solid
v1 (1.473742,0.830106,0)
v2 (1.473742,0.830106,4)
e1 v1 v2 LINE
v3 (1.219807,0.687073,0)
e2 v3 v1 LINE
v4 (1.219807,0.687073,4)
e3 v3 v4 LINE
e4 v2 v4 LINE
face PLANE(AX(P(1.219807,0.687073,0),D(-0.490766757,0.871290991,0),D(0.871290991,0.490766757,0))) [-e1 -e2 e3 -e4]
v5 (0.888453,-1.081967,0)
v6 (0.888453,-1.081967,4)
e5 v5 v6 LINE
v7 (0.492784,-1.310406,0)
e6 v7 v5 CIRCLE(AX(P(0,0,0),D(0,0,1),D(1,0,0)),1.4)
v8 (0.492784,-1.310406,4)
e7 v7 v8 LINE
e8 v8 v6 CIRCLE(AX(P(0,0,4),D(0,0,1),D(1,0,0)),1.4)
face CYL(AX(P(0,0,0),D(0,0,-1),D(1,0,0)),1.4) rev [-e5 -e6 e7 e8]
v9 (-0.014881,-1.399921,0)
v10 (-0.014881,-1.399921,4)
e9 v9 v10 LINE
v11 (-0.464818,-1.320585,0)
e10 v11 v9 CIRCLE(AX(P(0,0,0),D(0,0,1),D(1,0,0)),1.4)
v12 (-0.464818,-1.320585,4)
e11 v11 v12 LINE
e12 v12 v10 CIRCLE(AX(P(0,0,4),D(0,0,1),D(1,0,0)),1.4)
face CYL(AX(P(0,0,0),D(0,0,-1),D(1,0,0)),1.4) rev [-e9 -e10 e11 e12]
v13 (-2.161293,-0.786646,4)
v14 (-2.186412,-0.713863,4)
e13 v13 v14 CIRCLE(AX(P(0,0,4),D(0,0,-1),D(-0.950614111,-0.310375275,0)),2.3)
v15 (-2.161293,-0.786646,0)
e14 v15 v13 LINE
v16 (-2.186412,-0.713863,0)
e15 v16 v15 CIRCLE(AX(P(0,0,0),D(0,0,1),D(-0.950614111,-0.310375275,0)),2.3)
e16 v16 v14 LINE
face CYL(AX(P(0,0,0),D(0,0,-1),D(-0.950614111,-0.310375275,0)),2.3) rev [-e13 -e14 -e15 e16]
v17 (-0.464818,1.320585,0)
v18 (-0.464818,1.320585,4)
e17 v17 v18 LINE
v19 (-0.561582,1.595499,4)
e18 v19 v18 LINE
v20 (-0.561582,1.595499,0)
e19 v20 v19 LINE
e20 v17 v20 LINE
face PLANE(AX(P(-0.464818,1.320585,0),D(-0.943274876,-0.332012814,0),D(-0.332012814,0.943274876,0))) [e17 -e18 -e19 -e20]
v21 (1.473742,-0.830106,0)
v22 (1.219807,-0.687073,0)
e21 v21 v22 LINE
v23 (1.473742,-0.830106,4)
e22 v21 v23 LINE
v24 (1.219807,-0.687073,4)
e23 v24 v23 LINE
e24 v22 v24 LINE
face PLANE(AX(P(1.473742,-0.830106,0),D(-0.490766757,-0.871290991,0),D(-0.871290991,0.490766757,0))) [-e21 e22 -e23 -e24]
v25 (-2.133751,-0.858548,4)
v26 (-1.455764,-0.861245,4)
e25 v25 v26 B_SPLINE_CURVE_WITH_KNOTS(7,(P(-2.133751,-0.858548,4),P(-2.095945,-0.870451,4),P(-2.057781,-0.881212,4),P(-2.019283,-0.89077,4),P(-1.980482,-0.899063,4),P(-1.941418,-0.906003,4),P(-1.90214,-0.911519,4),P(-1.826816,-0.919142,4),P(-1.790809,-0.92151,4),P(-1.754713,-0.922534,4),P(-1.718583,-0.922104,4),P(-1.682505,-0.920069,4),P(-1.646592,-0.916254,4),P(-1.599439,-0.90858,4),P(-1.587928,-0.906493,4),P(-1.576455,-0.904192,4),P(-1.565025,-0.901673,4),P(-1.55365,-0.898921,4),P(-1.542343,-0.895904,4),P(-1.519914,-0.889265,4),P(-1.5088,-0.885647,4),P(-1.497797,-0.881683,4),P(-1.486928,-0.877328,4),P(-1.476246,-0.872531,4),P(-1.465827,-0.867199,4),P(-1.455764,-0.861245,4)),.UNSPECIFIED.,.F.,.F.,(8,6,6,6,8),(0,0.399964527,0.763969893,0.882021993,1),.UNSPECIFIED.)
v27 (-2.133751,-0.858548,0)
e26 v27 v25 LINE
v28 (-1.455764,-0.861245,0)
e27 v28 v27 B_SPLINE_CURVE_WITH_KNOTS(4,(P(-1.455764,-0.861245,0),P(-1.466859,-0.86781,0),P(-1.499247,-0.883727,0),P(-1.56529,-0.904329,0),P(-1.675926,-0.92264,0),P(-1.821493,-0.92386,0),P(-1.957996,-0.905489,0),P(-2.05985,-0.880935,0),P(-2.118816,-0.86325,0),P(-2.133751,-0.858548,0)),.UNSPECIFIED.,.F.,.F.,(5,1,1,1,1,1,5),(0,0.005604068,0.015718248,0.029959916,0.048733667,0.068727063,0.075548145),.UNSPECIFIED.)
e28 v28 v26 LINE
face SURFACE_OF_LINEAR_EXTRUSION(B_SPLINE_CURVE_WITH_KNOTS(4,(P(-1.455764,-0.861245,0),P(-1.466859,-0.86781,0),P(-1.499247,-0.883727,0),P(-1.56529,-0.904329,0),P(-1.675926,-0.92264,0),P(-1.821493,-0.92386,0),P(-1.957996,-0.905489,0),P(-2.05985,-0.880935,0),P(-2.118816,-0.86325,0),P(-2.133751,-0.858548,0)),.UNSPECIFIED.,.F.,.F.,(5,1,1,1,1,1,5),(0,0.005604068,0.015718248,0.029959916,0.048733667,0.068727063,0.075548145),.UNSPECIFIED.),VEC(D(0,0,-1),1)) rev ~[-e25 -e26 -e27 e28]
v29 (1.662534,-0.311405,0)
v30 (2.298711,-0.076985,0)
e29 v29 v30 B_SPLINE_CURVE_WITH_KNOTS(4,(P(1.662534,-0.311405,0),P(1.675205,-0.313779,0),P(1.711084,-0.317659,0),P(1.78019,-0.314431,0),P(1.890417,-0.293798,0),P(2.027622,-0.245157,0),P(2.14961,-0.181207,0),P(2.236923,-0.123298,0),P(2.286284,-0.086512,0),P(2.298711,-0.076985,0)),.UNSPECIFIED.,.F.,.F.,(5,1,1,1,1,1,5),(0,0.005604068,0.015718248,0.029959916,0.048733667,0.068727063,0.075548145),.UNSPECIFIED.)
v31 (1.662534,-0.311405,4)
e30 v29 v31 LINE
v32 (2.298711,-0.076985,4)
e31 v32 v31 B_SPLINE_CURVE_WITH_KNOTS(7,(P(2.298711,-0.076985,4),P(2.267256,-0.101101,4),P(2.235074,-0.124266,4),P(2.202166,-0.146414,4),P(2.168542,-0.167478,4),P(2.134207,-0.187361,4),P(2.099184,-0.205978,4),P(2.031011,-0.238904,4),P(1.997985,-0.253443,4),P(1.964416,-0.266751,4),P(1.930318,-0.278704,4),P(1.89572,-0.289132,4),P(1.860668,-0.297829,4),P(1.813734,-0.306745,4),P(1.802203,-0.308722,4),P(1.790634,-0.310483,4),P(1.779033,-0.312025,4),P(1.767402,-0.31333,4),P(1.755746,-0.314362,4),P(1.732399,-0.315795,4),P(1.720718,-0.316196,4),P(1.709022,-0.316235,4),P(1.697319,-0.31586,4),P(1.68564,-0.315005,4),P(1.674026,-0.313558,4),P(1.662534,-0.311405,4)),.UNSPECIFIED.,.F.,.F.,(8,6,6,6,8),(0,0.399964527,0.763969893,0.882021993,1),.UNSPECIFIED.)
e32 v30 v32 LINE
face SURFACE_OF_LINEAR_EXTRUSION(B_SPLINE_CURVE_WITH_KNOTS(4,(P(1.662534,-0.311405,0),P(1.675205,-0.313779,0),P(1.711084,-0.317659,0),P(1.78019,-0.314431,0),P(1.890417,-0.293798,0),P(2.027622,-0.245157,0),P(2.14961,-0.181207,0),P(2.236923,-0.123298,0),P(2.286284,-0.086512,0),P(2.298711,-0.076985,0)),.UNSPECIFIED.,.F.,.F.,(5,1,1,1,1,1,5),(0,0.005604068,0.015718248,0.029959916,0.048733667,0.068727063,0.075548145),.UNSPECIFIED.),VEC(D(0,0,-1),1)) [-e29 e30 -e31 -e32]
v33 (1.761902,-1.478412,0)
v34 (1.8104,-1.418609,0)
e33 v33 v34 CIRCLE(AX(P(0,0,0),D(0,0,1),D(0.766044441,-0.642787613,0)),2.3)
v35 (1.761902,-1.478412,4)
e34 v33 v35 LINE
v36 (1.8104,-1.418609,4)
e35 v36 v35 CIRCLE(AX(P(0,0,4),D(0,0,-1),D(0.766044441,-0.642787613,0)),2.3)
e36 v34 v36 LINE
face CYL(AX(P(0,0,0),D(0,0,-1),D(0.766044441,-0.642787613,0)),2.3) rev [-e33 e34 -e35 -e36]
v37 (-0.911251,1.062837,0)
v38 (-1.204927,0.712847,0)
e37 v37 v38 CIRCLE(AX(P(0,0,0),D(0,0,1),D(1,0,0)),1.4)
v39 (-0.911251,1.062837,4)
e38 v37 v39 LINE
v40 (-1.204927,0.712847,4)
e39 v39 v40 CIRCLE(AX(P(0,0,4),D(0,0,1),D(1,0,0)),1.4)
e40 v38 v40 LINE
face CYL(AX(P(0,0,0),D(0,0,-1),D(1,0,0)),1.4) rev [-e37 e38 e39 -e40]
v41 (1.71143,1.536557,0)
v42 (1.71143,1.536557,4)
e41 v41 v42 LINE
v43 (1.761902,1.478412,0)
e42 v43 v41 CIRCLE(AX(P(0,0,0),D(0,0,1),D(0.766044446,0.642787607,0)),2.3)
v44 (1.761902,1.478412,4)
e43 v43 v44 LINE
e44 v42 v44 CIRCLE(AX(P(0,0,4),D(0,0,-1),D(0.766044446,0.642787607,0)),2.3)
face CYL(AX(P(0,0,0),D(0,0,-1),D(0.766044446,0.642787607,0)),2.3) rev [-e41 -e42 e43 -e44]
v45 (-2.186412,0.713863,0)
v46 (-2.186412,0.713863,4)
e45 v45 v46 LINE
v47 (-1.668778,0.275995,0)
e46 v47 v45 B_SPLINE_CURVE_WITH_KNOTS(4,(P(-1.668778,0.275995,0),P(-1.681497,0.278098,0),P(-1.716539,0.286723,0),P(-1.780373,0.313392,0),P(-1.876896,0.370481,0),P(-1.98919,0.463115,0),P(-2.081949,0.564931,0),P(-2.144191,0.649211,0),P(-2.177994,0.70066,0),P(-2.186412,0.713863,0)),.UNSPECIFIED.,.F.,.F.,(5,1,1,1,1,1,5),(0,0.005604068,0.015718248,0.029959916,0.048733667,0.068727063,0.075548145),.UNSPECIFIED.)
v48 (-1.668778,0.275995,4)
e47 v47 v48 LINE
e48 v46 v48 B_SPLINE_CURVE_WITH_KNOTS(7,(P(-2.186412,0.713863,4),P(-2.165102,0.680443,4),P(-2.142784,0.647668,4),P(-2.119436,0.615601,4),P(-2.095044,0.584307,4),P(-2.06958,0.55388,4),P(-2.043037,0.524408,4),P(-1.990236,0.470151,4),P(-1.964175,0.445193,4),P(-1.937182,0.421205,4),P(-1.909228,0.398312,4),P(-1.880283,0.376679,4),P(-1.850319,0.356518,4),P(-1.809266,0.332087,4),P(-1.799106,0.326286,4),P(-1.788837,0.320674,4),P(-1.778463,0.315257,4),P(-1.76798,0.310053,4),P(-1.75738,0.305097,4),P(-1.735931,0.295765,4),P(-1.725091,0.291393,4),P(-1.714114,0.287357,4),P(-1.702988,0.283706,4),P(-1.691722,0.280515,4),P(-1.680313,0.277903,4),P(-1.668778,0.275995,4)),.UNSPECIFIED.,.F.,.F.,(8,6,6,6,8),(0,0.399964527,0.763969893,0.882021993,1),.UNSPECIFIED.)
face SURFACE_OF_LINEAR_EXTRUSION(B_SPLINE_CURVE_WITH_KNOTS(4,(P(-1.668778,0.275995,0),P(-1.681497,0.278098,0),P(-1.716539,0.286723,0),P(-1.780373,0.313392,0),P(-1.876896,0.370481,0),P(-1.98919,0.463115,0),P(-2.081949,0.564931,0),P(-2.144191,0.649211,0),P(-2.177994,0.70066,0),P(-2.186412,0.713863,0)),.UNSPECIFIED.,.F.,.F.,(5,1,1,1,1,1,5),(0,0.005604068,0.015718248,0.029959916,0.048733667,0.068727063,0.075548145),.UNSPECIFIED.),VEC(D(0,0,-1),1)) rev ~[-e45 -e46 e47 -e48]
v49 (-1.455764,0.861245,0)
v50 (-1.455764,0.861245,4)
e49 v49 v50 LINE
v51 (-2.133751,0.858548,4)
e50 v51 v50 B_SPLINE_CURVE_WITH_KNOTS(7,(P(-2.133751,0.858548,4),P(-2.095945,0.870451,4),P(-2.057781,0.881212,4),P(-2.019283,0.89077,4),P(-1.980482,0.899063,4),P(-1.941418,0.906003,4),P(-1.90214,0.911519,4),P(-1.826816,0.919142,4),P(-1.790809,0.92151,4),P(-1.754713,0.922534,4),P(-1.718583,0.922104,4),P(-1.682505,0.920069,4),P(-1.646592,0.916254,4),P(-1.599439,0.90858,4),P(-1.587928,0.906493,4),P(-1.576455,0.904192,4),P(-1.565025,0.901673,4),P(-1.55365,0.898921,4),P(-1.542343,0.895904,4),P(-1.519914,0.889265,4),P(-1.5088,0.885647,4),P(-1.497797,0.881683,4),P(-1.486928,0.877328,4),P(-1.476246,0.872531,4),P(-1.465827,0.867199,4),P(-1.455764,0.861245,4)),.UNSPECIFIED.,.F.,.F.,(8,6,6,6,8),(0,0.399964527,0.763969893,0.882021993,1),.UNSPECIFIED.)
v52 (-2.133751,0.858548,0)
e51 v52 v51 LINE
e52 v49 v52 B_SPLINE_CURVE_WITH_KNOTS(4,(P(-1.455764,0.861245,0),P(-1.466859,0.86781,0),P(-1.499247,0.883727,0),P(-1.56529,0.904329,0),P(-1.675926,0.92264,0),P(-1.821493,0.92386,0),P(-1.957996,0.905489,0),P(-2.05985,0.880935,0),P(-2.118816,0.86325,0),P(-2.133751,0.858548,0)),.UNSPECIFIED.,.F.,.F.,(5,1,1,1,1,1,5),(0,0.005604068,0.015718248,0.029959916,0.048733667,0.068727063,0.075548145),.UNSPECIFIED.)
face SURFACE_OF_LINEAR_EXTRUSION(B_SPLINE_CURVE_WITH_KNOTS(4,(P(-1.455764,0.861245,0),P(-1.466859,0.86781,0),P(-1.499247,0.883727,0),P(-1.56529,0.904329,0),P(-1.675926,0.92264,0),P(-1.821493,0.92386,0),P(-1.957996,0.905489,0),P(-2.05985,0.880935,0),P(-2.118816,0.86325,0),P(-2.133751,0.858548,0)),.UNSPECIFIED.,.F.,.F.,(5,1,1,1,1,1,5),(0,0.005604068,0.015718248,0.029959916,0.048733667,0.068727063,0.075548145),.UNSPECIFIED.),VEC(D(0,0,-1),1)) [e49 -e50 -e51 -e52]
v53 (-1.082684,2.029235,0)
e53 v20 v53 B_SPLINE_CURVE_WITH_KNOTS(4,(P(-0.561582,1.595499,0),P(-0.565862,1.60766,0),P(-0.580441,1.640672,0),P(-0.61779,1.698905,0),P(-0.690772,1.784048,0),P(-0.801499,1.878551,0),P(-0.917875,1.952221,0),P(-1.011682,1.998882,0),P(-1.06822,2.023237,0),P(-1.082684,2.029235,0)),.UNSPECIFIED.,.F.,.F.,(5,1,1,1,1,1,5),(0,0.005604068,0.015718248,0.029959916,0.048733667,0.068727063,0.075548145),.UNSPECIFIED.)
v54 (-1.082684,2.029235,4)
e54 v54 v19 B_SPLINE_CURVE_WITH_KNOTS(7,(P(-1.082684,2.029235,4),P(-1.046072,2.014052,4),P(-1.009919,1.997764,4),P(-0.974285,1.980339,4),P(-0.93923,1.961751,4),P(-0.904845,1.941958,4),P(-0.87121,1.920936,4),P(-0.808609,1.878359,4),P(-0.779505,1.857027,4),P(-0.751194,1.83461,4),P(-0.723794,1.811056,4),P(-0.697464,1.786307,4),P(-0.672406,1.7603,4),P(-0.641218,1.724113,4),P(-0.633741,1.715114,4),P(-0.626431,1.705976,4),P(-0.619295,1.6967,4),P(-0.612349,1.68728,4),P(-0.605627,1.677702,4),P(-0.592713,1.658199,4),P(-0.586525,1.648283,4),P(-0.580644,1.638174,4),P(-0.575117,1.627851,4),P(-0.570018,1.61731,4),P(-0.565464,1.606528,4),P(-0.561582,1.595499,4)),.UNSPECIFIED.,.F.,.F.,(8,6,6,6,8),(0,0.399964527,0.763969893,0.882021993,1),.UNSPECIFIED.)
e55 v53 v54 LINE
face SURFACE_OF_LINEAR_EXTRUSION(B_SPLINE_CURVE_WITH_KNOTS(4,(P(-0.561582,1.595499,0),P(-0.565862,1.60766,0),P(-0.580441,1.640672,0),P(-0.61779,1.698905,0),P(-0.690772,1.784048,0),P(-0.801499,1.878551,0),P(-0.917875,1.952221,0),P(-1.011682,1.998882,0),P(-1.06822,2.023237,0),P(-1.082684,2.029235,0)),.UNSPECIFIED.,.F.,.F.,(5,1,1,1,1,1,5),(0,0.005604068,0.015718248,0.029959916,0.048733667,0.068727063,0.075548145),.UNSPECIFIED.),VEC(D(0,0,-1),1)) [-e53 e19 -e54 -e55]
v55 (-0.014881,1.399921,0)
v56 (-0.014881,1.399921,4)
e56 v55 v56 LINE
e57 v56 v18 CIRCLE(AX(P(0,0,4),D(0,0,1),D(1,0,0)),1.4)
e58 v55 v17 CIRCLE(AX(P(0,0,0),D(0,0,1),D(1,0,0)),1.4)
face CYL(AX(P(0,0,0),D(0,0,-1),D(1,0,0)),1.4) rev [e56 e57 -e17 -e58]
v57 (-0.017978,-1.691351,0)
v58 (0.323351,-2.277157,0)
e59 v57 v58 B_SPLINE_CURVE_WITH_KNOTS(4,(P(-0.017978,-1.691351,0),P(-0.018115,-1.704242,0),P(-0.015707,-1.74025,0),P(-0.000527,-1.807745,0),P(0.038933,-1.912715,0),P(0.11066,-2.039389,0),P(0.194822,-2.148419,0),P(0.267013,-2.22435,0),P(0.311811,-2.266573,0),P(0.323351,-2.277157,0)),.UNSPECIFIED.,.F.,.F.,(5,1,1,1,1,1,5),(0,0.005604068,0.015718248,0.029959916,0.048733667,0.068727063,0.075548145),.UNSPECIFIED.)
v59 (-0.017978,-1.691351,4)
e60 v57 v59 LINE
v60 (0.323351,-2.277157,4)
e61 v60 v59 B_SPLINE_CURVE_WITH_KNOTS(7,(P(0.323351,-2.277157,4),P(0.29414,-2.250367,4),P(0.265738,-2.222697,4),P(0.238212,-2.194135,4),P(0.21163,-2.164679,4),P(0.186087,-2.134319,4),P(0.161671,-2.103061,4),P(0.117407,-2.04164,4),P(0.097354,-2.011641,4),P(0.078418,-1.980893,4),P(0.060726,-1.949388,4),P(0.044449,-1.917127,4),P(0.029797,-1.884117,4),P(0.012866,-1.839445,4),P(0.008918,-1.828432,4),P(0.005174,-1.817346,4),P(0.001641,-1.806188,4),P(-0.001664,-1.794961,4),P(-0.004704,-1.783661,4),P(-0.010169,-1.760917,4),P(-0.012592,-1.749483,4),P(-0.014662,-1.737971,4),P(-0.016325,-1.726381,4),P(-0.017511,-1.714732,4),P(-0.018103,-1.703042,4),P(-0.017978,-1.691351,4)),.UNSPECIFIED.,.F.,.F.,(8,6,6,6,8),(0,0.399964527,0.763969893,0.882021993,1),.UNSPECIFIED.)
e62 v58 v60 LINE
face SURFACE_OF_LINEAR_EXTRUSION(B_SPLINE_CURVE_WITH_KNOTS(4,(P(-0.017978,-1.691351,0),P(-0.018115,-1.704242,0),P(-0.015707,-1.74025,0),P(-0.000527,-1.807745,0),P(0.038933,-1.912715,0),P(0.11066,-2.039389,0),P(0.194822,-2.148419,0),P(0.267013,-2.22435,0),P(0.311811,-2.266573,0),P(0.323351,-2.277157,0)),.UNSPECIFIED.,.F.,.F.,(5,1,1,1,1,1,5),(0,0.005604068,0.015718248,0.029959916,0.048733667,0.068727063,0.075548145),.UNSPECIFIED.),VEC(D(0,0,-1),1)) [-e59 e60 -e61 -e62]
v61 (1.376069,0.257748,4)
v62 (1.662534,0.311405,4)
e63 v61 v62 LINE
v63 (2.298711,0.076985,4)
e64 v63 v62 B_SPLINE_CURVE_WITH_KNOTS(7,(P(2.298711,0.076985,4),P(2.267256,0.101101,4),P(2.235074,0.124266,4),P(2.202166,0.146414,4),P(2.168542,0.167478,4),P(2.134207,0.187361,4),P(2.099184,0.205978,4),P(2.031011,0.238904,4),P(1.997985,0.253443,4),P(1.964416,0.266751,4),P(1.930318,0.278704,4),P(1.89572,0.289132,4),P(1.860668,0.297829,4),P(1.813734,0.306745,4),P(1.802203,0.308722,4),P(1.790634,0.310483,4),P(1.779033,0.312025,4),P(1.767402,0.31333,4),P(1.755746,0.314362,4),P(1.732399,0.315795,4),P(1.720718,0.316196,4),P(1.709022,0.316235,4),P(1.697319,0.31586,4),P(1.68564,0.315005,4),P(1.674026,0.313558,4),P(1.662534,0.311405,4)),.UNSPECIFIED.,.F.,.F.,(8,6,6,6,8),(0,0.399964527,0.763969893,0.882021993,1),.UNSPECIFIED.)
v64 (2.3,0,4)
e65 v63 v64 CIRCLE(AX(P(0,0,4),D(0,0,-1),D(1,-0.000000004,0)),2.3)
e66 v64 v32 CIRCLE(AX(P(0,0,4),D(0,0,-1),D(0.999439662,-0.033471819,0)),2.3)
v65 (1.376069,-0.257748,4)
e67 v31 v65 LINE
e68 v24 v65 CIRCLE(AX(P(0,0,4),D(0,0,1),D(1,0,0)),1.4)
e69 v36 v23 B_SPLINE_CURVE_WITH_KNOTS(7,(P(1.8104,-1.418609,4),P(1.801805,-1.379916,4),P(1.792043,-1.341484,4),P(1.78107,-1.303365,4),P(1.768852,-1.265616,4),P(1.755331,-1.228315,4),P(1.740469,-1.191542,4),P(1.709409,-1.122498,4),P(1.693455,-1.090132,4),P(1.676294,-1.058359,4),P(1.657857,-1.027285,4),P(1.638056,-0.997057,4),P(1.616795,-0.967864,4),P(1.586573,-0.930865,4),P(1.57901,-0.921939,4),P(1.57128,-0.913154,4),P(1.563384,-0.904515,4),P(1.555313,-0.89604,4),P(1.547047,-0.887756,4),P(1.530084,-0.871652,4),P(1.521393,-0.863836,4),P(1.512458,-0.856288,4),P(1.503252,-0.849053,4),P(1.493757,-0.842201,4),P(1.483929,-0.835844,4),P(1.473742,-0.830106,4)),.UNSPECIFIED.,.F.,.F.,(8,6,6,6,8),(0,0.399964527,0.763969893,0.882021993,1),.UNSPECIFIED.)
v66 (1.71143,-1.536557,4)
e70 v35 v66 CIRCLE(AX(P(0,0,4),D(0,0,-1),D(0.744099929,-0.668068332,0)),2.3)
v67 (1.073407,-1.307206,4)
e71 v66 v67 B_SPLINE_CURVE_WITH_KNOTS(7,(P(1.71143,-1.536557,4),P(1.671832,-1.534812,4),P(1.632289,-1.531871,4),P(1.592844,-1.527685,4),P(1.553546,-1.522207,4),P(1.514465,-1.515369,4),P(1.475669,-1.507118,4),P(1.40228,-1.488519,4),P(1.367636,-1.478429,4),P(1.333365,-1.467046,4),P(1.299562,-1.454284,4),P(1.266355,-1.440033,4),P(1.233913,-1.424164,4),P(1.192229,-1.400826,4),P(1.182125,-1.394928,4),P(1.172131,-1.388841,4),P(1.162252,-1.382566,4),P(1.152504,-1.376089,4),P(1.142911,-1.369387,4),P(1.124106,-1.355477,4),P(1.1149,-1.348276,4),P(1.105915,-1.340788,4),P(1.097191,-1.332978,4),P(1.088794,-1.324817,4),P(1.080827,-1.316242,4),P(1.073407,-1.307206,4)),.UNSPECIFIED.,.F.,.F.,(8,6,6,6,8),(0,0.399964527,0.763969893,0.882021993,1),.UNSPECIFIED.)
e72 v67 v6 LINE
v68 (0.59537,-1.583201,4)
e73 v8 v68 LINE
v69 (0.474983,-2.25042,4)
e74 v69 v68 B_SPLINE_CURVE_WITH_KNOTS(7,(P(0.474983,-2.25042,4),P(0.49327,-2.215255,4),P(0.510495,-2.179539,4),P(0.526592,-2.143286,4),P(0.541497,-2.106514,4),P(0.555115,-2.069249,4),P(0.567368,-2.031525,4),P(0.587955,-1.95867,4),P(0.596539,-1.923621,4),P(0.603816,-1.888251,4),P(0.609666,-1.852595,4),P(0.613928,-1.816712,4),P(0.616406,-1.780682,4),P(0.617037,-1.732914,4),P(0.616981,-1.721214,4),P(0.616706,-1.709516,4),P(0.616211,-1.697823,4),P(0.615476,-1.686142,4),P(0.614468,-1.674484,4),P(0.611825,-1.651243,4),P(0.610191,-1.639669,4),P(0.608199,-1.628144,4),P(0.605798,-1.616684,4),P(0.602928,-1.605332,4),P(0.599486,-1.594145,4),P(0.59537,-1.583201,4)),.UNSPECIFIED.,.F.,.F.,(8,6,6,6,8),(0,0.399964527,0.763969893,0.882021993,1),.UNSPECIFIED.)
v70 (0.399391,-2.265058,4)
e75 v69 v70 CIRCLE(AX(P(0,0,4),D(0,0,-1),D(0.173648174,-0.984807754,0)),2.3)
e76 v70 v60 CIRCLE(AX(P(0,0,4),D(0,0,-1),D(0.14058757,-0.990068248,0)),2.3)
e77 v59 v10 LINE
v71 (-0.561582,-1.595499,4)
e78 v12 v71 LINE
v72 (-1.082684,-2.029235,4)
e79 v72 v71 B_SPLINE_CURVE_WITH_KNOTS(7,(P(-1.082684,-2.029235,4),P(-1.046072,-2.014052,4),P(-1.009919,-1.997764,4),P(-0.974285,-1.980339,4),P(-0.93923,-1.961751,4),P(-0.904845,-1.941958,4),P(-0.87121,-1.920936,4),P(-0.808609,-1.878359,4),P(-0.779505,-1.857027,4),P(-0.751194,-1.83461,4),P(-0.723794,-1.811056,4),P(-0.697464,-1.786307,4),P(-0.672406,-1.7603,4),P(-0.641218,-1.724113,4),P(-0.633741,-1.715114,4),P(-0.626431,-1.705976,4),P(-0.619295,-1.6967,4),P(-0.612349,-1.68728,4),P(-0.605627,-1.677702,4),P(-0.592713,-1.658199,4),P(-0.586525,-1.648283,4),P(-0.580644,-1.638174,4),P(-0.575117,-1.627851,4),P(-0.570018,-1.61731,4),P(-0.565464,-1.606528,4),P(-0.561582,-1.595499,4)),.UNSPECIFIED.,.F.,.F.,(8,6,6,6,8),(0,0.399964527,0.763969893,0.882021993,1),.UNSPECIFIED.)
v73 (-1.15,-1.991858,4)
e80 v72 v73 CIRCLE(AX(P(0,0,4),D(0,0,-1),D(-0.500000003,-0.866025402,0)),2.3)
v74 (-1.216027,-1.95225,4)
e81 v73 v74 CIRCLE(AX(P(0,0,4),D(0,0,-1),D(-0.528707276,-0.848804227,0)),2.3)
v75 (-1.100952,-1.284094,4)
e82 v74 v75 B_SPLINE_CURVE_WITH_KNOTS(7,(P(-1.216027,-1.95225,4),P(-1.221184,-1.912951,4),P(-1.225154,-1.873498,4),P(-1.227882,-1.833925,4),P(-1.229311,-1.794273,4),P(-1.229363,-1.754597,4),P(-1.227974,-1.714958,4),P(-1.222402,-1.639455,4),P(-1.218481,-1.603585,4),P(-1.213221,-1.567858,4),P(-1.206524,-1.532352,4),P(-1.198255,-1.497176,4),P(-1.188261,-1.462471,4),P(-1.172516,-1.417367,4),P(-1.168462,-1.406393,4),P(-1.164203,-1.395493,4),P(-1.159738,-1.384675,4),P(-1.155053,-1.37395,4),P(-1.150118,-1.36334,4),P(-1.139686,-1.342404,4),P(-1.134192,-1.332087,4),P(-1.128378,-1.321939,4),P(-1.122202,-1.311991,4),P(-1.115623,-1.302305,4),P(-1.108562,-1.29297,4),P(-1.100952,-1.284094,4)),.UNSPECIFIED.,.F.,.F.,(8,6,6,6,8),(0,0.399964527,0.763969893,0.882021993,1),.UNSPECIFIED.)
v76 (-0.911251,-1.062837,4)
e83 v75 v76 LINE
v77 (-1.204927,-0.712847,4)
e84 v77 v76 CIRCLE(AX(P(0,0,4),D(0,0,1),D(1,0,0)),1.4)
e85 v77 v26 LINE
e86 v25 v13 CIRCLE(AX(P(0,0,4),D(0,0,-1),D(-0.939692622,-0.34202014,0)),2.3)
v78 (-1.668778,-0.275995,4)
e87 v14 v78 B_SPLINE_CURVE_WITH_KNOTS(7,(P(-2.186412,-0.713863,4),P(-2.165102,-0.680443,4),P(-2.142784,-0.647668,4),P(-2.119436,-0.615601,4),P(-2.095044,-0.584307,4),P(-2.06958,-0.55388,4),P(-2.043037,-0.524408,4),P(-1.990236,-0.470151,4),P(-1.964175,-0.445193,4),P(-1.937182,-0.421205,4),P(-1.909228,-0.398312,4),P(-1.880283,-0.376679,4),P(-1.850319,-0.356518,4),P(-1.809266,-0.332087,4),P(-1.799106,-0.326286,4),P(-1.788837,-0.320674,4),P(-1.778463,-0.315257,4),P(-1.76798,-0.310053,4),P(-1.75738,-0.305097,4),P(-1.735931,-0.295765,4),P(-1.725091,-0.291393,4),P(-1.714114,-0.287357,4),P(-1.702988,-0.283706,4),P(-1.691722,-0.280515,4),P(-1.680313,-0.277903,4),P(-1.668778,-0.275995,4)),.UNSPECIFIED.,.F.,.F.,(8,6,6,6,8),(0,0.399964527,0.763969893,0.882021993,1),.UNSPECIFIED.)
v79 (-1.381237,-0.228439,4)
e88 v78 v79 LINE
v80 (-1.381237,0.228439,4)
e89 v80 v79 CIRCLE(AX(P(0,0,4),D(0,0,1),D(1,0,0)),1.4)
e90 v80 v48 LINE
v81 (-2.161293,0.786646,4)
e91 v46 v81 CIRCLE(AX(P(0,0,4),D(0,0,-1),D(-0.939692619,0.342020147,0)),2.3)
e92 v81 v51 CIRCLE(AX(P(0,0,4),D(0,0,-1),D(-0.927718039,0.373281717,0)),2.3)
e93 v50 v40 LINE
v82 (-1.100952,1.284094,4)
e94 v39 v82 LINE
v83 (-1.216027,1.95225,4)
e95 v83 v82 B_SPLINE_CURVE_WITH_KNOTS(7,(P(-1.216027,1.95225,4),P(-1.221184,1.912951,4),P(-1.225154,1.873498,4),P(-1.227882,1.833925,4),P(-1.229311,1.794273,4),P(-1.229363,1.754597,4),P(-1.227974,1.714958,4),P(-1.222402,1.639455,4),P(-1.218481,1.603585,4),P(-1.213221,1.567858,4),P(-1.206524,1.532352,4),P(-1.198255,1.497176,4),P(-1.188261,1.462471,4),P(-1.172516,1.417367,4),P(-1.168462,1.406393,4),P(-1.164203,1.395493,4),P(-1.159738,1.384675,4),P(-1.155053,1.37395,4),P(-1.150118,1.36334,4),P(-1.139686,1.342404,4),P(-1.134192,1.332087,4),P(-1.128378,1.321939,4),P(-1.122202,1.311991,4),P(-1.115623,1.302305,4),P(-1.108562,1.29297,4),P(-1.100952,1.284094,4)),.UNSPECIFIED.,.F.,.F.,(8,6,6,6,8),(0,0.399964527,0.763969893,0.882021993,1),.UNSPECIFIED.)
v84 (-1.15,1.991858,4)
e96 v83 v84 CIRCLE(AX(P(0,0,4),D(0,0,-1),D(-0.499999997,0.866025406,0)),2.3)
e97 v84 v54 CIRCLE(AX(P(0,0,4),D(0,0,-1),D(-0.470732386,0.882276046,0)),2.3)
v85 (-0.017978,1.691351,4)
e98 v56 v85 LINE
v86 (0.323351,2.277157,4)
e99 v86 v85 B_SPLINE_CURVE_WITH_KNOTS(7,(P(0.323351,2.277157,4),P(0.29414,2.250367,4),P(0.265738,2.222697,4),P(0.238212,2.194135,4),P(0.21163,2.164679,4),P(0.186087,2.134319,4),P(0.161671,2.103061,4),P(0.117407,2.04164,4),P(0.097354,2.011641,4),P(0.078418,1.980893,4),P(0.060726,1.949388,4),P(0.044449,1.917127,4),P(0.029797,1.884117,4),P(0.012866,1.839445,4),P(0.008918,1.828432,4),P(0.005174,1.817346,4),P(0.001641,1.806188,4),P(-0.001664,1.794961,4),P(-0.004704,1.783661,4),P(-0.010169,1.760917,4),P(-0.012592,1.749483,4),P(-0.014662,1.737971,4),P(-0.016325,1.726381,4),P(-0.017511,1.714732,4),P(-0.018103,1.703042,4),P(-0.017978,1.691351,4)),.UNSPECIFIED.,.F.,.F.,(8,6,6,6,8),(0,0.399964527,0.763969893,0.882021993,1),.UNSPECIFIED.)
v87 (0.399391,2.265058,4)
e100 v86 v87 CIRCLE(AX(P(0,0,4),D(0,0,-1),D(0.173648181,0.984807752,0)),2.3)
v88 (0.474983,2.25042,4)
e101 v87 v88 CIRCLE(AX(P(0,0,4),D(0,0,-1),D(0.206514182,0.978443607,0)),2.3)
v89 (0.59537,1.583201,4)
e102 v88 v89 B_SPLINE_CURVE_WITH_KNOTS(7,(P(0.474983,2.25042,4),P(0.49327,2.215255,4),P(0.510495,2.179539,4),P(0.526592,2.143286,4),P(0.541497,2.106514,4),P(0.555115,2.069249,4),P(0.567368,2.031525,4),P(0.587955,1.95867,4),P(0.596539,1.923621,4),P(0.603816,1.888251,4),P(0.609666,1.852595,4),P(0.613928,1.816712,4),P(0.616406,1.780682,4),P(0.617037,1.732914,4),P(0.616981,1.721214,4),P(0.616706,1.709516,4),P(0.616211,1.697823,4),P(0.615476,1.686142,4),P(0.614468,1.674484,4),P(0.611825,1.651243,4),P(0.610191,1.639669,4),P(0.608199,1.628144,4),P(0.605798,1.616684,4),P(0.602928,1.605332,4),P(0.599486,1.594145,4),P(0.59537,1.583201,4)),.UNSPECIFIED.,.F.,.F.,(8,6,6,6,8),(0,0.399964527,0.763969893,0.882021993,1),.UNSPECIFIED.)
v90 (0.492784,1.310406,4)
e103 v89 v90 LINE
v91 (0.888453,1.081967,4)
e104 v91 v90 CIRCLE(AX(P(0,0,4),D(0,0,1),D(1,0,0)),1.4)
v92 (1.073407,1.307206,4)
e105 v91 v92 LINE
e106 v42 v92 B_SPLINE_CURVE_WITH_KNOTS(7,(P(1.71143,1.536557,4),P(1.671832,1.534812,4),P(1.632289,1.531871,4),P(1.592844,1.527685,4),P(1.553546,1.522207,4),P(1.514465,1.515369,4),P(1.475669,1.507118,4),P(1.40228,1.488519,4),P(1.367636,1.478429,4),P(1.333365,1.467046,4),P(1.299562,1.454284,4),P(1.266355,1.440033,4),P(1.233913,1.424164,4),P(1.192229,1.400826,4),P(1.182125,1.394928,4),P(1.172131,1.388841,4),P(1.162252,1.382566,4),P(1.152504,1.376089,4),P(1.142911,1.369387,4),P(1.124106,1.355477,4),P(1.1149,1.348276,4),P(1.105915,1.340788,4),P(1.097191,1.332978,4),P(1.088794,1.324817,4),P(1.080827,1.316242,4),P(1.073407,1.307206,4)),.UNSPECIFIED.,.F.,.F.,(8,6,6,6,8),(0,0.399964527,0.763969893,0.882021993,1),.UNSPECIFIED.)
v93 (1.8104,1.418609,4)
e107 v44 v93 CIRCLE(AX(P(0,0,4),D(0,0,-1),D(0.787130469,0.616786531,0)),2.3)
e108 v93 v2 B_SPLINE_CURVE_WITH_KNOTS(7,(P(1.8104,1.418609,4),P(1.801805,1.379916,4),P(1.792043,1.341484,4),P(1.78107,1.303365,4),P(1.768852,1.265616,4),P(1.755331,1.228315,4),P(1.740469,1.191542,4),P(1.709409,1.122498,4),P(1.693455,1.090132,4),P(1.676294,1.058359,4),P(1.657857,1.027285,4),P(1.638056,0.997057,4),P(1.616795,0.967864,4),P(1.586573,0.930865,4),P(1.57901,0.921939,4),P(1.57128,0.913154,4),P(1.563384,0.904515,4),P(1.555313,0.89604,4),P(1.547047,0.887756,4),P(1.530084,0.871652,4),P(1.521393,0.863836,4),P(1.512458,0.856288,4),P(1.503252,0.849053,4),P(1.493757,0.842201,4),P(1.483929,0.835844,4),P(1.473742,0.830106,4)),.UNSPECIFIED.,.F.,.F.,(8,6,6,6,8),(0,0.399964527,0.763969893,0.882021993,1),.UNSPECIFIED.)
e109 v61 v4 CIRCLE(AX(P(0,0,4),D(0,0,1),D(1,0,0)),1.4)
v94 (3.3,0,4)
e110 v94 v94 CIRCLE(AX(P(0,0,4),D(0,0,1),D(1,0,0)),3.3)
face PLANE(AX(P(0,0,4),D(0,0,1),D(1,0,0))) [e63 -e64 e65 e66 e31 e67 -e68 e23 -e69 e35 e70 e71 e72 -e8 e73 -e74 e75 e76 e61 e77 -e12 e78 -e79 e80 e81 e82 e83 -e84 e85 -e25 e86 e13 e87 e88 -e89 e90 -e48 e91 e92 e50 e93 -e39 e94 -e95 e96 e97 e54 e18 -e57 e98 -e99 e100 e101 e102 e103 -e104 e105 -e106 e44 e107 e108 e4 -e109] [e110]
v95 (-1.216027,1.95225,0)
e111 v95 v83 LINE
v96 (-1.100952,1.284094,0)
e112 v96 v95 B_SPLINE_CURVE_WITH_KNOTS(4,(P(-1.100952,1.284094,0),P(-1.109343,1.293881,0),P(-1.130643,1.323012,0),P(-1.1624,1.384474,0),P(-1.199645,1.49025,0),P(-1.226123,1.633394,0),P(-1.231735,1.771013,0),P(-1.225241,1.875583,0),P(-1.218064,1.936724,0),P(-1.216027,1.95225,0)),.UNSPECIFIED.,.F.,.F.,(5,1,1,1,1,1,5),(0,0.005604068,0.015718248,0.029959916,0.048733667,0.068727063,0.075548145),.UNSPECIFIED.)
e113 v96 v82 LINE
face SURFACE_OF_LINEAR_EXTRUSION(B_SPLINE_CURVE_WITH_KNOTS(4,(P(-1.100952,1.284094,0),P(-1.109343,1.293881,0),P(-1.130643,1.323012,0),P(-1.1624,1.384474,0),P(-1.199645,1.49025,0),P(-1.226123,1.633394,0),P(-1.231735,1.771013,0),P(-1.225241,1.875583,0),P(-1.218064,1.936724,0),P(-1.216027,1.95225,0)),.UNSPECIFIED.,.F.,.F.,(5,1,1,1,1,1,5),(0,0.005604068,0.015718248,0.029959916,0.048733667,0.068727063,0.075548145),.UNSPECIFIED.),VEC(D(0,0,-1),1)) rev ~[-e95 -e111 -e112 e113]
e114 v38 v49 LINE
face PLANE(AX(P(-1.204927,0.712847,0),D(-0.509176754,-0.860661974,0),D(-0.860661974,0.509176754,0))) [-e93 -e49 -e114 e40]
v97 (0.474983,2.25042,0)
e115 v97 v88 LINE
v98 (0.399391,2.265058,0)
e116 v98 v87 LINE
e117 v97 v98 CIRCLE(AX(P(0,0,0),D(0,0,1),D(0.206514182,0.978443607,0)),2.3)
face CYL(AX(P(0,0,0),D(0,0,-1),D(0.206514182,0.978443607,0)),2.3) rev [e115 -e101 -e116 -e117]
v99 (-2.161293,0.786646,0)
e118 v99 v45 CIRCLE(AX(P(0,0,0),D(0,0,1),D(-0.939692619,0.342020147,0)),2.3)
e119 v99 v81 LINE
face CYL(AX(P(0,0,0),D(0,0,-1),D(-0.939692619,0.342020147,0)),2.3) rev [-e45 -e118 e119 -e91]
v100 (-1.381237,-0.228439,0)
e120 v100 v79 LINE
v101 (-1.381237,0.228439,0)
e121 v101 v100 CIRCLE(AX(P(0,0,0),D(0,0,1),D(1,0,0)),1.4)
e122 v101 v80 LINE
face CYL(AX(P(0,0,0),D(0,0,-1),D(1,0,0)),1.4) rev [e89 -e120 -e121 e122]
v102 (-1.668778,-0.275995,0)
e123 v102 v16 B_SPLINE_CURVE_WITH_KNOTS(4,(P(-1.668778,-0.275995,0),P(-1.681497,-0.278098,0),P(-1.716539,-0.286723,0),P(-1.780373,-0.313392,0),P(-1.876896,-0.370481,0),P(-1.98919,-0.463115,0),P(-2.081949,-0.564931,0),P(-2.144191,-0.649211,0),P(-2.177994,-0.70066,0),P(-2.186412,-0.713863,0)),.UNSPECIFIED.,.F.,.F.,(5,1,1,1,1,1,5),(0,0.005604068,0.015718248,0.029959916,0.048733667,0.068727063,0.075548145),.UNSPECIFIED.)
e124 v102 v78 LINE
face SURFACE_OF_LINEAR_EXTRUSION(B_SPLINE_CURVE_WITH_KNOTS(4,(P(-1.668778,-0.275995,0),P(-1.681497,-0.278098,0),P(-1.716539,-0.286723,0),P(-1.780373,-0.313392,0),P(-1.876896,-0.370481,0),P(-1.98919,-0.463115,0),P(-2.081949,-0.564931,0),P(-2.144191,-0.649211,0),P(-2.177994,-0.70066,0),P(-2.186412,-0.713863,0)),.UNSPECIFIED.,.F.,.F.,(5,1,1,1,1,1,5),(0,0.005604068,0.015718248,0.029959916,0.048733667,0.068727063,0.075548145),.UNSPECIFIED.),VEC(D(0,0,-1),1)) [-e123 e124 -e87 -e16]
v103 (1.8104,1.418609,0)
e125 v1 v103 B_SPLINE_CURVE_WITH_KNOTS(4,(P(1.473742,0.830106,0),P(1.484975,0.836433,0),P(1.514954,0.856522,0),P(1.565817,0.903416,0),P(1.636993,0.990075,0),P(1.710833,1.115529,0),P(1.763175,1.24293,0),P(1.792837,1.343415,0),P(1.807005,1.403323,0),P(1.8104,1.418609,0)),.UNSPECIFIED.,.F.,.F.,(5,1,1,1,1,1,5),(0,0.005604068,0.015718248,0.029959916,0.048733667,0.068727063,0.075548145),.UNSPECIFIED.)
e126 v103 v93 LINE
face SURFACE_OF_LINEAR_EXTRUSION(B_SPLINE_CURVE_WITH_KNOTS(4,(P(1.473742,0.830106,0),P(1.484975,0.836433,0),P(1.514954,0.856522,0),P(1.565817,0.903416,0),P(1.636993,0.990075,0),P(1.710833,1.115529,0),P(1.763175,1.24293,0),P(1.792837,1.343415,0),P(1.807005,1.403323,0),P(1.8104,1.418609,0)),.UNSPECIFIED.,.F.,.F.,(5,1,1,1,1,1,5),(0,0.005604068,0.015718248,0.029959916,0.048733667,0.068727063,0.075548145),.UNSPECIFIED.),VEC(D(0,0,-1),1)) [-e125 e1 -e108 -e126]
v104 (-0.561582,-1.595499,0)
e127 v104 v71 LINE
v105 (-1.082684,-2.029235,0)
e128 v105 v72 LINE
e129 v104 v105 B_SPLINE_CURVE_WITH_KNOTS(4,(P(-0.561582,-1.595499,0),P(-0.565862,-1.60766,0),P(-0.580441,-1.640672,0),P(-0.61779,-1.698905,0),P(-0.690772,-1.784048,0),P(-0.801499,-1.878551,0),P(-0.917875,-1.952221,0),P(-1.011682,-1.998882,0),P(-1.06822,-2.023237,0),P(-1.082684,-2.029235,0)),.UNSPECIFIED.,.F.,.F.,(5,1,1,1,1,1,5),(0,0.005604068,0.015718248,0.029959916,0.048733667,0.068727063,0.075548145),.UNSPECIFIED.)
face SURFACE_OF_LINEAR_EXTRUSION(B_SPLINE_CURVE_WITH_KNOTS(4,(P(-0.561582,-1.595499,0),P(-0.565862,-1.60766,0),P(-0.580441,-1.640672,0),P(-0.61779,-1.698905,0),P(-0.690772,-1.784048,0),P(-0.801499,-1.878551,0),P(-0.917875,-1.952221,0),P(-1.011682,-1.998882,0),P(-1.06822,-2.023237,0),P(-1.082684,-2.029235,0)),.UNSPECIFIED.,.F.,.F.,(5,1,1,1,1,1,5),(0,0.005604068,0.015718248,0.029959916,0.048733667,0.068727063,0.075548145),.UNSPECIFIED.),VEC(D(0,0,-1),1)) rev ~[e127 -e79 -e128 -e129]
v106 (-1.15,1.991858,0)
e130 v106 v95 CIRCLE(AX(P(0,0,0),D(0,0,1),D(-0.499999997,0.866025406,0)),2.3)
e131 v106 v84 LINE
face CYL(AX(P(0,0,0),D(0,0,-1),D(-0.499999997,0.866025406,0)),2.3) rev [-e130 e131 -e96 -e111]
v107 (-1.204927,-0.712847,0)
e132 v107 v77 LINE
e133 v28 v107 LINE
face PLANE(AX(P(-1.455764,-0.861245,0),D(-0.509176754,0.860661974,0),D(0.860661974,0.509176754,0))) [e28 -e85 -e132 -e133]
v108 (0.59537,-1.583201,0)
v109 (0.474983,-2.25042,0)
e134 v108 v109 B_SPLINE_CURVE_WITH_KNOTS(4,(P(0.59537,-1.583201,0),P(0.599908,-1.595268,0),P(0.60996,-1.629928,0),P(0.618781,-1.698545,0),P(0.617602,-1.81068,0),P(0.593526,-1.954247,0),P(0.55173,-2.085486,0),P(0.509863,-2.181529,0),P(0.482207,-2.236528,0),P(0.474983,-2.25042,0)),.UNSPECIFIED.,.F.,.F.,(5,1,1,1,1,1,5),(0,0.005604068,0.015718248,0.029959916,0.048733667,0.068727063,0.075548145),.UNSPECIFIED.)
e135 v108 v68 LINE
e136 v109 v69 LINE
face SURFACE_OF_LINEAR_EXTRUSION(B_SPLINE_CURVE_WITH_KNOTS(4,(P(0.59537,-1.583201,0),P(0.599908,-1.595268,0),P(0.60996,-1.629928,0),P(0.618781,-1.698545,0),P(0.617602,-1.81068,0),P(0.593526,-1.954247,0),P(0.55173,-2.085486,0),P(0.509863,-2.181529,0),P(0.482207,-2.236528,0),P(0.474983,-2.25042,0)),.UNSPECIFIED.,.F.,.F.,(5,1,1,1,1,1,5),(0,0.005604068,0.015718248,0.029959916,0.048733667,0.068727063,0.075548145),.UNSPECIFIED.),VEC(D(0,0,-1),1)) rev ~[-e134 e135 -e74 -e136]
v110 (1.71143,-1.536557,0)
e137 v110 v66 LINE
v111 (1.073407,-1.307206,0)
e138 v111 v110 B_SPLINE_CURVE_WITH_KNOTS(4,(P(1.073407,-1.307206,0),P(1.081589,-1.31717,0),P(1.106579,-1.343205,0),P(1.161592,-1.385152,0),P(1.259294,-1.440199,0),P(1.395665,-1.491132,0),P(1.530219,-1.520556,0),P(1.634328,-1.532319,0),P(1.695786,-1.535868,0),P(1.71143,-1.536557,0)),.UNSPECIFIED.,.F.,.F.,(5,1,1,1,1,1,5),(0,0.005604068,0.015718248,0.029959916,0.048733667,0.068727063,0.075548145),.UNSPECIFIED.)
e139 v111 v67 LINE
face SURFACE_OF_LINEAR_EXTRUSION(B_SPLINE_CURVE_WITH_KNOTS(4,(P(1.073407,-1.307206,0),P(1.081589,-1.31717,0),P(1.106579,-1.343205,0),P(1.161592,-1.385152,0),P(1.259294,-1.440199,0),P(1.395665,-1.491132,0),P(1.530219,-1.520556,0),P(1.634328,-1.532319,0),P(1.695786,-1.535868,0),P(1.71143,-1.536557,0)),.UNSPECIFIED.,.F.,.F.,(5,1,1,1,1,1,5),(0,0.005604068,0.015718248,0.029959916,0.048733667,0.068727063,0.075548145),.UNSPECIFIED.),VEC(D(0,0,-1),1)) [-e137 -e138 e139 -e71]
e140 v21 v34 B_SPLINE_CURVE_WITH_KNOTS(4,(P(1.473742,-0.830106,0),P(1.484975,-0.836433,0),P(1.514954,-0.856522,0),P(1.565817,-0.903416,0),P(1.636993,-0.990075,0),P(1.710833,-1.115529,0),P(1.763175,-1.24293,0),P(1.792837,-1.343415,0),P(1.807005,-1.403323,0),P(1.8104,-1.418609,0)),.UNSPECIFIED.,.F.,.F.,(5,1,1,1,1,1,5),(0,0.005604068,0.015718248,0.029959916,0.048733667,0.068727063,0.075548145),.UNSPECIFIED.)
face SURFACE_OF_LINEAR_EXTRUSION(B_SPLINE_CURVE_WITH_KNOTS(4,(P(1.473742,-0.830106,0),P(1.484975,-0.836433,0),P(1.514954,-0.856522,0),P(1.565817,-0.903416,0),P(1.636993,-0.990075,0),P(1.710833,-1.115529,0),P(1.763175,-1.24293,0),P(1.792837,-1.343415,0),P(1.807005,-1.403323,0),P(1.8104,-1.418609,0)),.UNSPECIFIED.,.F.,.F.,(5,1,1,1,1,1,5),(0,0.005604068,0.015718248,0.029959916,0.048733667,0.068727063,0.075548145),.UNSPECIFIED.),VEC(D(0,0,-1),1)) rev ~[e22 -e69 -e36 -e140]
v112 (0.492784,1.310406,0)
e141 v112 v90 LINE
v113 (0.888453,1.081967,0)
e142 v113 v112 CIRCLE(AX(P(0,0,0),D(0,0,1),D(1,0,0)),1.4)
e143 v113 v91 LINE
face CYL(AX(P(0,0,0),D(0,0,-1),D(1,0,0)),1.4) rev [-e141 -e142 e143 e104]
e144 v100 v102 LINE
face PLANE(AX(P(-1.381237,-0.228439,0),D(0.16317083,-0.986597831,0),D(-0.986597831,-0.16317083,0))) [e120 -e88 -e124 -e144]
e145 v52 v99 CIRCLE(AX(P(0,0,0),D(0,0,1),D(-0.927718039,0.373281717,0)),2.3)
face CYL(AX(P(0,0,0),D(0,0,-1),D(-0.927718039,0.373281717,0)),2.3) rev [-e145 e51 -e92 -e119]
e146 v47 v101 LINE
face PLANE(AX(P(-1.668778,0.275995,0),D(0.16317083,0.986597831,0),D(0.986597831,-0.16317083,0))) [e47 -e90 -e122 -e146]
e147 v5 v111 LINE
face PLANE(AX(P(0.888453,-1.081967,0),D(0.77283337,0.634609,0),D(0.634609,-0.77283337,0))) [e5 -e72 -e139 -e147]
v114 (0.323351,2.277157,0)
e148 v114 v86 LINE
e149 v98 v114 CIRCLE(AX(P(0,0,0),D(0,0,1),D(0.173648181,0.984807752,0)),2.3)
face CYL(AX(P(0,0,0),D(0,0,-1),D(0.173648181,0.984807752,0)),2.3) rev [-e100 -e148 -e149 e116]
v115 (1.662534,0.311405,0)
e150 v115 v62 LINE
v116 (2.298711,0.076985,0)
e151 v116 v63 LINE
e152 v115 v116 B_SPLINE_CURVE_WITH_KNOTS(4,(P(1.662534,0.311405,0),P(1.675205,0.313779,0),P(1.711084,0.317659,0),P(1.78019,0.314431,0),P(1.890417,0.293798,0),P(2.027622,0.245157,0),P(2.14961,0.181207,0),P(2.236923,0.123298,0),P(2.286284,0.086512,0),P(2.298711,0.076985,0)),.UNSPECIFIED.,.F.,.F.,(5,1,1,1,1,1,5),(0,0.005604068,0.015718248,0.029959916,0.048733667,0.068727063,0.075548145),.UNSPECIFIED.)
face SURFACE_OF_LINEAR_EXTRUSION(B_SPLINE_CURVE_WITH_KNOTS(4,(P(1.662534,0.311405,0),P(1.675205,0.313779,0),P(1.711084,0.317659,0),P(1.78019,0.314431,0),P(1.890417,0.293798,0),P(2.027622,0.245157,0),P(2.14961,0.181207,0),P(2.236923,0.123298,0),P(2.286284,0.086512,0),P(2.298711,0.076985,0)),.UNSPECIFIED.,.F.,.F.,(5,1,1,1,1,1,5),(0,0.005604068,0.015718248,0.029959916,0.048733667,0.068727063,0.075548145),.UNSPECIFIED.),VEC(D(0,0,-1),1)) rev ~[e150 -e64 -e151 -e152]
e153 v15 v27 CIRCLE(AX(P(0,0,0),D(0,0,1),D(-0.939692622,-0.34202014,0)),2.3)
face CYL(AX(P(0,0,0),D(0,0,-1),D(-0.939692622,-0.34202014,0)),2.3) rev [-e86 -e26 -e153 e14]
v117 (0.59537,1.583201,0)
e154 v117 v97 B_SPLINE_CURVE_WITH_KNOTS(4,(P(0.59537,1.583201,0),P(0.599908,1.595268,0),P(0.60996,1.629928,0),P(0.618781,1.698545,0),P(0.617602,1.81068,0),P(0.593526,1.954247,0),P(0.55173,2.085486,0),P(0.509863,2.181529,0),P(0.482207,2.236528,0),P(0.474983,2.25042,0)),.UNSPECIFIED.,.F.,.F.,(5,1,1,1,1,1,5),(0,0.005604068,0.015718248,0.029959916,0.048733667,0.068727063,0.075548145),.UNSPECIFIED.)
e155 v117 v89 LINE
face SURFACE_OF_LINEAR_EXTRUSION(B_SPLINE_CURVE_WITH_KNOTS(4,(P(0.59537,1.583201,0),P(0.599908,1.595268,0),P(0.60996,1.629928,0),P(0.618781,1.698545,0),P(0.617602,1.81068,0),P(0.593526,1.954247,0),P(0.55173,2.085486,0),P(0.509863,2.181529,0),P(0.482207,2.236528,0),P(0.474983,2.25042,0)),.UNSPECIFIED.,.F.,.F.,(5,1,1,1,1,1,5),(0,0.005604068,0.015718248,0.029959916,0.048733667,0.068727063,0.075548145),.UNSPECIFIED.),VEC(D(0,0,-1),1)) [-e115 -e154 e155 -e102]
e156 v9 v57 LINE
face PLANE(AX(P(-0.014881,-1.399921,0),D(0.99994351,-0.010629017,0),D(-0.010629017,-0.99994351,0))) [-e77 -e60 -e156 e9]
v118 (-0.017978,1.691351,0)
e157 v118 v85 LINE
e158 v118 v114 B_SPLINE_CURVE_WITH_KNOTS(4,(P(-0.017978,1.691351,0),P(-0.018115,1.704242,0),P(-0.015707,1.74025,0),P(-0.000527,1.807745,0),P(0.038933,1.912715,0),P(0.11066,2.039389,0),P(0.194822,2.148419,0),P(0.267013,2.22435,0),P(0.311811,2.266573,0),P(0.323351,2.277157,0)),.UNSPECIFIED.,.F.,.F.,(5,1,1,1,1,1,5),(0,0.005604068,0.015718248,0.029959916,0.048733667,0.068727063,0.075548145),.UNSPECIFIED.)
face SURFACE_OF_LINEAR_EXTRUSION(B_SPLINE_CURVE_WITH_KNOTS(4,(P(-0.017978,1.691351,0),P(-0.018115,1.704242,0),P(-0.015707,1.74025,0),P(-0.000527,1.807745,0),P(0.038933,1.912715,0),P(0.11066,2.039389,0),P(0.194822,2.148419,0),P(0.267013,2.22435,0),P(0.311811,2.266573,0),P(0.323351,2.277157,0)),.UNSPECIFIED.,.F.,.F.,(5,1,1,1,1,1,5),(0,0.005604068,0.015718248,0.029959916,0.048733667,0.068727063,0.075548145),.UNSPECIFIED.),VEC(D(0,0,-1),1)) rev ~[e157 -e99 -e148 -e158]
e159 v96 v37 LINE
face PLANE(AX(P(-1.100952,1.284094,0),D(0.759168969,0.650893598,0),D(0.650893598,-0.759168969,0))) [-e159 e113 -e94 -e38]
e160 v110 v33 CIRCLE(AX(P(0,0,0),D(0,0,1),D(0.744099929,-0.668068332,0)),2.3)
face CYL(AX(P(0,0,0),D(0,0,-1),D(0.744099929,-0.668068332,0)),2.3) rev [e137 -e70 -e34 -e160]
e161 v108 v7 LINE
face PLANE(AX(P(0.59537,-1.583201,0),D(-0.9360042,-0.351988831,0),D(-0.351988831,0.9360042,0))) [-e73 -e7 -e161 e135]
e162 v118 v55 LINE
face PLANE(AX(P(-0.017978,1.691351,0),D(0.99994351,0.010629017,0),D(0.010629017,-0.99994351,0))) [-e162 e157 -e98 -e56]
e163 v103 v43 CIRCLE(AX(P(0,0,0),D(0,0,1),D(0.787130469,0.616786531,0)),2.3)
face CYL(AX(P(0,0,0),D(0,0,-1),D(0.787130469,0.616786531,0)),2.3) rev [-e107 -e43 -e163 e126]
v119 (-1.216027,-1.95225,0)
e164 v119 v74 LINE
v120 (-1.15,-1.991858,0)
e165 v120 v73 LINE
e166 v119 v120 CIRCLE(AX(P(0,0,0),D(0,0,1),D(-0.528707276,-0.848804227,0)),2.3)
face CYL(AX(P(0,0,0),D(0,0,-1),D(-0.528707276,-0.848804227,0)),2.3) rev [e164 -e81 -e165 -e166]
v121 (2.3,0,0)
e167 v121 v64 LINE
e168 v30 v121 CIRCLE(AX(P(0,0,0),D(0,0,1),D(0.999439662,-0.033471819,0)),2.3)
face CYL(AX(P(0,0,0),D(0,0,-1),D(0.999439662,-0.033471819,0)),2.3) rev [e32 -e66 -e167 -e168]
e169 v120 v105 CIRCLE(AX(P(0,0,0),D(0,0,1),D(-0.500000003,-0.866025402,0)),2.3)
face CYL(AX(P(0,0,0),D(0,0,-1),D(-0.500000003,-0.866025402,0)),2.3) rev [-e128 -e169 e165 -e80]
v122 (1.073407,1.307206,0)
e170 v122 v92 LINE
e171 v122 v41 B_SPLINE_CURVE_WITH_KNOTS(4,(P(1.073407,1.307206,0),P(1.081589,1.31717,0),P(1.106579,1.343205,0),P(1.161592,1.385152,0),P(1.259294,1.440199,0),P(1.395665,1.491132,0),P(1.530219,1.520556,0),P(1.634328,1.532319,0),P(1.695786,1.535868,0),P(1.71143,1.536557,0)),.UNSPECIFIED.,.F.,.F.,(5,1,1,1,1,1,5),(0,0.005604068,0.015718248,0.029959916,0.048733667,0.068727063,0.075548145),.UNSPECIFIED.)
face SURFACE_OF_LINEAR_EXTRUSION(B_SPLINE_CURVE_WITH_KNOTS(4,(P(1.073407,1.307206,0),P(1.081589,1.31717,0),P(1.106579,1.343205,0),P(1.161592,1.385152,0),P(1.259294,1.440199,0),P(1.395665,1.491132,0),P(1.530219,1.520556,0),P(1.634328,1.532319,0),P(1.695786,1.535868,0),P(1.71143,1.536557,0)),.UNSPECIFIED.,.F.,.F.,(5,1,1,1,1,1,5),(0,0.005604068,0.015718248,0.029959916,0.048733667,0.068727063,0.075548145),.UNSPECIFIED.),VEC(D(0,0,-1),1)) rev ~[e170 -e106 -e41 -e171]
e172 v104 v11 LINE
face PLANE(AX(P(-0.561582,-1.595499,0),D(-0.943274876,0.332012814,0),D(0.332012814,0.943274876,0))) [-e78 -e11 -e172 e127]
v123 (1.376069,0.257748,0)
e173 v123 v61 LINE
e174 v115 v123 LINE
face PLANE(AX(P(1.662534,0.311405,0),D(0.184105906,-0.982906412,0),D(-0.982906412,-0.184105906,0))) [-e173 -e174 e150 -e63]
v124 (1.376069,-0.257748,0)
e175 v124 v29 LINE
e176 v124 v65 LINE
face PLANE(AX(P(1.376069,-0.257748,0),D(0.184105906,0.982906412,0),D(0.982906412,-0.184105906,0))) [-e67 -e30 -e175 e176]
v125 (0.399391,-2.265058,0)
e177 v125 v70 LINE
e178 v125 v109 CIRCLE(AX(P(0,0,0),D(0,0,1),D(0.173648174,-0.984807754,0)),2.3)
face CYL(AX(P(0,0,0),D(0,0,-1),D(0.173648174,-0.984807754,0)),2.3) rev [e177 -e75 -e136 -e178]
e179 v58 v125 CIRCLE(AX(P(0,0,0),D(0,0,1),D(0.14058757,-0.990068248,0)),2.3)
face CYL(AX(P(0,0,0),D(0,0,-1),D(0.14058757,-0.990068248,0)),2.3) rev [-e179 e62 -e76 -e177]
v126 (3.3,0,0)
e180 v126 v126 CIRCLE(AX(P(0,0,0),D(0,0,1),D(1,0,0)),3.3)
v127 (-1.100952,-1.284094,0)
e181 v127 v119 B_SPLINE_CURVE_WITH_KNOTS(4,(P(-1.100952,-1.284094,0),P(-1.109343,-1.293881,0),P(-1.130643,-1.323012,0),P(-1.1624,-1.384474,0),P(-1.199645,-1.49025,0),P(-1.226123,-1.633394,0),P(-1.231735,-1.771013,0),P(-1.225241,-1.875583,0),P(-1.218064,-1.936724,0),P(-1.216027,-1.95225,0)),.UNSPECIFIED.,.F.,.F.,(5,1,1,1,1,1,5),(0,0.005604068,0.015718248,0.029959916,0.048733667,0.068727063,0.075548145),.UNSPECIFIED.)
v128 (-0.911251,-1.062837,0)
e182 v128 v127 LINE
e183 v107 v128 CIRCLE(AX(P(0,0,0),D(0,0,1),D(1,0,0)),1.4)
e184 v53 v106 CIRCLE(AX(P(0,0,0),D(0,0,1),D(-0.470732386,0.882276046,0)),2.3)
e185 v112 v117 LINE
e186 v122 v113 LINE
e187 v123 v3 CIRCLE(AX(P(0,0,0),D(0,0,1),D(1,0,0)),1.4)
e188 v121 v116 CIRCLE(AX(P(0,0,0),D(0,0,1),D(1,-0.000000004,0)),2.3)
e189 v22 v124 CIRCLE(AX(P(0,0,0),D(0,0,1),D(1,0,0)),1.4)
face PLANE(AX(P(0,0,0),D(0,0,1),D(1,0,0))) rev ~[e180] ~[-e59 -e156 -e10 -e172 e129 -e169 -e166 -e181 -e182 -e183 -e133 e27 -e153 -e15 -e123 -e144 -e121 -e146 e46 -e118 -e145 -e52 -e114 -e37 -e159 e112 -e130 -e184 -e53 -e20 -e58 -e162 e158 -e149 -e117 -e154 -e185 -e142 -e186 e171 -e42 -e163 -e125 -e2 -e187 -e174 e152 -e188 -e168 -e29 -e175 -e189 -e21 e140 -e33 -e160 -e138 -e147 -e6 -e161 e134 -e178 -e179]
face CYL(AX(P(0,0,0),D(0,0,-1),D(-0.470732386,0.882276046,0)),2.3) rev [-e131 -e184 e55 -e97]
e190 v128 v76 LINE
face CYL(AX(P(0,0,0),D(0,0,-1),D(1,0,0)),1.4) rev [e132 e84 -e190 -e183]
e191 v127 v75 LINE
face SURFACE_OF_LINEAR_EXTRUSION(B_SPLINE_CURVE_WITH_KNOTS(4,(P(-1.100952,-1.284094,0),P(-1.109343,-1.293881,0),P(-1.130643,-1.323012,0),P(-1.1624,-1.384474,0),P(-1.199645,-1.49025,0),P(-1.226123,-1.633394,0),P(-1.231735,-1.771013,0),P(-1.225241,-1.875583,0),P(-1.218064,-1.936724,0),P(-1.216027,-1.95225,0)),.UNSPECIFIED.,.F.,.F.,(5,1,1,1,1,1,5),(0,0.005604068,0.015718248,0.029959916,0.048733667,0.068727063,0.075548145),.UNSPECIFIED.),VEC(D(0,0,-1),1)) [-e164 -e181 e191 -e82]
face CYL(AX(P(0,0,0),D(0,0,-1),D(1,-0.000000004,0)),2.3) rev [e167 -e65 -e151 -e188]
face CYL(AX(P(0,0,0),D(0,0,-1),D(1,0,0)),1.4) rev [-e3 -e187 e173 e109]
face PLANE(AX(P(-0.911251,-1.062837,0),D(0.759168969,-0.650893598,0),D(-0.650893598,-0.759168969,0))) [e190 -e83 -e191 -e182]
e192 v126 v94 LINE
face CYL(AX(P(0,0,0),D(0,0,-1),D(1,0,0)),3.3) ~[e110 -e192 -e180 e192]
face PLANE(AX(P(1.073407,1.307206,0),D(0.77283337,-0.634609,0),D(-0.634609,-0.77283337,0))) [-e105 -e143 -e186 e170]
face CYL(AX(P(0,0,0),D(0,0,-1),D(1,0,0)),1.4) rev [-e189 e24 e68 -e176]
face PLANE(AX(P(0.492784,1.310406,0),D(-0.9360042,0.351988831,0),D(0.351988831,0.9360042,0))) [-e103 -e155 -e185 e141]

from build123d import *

# Parameters (mm, degrees)
SKETCH_1_R               = 3.3
SKETCH_1_R_2             = 1.4
EXTRUDE_1_DEPTH          = 4
CUT_EXTRUDE_2_DEPTH      = 7.146543744
PATTERN_CIRCULAR_1_COUNT = 9


with BuildPart() as part:
    # 草图1 → 凸台-拉伸1 (new body)
    with BuildSketch(Plane.XY):
        Circle(SKETCH_1_R)
        Circle(SKETCH_1_R_2, mode=Mode.SUBTRACT)
    extrude(amount=EXTRUDE_1_DEPTH)

    # 草图1<3> → 切除-拉伸2 (cut, through all)
    with BuildSketch(Plane.XY):
        with BuildLine():
            Line((1.662533824, 0.311405332), (1.376068977, 0.25774827))
            ThreePointArc((1.376068977, 0.25774827), (1.394004406, 0.129428421), (1.4, 0))
            ThreePointArc((1.4, 0), (1.394004406, -0.129428421), (1.376068977, -0.25774827))
            Line((1.376068977, -0.25774827), (1.662533824, -0.311405332))
            add(Edge.make_bspline(
                [(1.662533824, -0.311405332), (1.675205333, -0.313778803), (1.711083832, -0.317659393), (1.780190094, -0.314430955), (1.890417179, -0.293797665), (2.027621966, -0.245157179), (2.149610149, -0.181207231), (2.236923472, -0.123298158), (2.286284468, -0.086512346), (2.298711222, -0.076985185)],
                knots=[0, 0, 0, 0, 0, 0.005604068, 0.015718248, 0.029959916, 0.048733667, 0.068727063, 0.075548145, 0.075548145, 0.075548145, 0.075548145, 0.075548145], degree=4))
            ThreePointArc((2.298711222, -0.076985185), (2.299677783, -0.038497986), (2.3, 0))
            ThreePointArc((2.3, 0), (2.299677783, 0.038497986), (2.298711222, 0.076985185))
            add(Edge.make_bspline(
                [(1.662533824, 0.311405332), (1.675205333, 0.313778803), (1.711083832, 0.317659393), (1.780190094, 0.314430955), (1.890417179, 0.293797665), (2.027621966, 0.245157179), (2.149610149, 0.181207231), (2.236923472, 0.123298158), (2.286284468, 0.086512346), (2.298711222, 0.076985185)],
                knots=[0, 0, 0, 0, 0, 0.005604068, 0.015718248, 0.029959916, 0.048733667, 0.068727063, 0.075548145, 0.075548145, 0.075548145, 0.075548145, 0.075548145], degree=4))
        make_face()
    cut_extrude_2 = extrude(amount=CUT_EXTRUDE_2_DEPTH, mode=Mode.SUBTRACT)

    # 阵列(圆周)1: 切除-拉伸2 ×9 about axis
    pattern_circular_1_axis = Axis((0, 0, 4), (0, 0, 1))
    for i in range(1, PATTERN_CIRCULAR_1_COUNT):
        add(cut_extrude_2.rotate(pattern_circular_1_axis, i * 360 / PATTERN_CIRCULAR_1_COUNT), mode=Mode.SUBTRACT)


solid = part.part
